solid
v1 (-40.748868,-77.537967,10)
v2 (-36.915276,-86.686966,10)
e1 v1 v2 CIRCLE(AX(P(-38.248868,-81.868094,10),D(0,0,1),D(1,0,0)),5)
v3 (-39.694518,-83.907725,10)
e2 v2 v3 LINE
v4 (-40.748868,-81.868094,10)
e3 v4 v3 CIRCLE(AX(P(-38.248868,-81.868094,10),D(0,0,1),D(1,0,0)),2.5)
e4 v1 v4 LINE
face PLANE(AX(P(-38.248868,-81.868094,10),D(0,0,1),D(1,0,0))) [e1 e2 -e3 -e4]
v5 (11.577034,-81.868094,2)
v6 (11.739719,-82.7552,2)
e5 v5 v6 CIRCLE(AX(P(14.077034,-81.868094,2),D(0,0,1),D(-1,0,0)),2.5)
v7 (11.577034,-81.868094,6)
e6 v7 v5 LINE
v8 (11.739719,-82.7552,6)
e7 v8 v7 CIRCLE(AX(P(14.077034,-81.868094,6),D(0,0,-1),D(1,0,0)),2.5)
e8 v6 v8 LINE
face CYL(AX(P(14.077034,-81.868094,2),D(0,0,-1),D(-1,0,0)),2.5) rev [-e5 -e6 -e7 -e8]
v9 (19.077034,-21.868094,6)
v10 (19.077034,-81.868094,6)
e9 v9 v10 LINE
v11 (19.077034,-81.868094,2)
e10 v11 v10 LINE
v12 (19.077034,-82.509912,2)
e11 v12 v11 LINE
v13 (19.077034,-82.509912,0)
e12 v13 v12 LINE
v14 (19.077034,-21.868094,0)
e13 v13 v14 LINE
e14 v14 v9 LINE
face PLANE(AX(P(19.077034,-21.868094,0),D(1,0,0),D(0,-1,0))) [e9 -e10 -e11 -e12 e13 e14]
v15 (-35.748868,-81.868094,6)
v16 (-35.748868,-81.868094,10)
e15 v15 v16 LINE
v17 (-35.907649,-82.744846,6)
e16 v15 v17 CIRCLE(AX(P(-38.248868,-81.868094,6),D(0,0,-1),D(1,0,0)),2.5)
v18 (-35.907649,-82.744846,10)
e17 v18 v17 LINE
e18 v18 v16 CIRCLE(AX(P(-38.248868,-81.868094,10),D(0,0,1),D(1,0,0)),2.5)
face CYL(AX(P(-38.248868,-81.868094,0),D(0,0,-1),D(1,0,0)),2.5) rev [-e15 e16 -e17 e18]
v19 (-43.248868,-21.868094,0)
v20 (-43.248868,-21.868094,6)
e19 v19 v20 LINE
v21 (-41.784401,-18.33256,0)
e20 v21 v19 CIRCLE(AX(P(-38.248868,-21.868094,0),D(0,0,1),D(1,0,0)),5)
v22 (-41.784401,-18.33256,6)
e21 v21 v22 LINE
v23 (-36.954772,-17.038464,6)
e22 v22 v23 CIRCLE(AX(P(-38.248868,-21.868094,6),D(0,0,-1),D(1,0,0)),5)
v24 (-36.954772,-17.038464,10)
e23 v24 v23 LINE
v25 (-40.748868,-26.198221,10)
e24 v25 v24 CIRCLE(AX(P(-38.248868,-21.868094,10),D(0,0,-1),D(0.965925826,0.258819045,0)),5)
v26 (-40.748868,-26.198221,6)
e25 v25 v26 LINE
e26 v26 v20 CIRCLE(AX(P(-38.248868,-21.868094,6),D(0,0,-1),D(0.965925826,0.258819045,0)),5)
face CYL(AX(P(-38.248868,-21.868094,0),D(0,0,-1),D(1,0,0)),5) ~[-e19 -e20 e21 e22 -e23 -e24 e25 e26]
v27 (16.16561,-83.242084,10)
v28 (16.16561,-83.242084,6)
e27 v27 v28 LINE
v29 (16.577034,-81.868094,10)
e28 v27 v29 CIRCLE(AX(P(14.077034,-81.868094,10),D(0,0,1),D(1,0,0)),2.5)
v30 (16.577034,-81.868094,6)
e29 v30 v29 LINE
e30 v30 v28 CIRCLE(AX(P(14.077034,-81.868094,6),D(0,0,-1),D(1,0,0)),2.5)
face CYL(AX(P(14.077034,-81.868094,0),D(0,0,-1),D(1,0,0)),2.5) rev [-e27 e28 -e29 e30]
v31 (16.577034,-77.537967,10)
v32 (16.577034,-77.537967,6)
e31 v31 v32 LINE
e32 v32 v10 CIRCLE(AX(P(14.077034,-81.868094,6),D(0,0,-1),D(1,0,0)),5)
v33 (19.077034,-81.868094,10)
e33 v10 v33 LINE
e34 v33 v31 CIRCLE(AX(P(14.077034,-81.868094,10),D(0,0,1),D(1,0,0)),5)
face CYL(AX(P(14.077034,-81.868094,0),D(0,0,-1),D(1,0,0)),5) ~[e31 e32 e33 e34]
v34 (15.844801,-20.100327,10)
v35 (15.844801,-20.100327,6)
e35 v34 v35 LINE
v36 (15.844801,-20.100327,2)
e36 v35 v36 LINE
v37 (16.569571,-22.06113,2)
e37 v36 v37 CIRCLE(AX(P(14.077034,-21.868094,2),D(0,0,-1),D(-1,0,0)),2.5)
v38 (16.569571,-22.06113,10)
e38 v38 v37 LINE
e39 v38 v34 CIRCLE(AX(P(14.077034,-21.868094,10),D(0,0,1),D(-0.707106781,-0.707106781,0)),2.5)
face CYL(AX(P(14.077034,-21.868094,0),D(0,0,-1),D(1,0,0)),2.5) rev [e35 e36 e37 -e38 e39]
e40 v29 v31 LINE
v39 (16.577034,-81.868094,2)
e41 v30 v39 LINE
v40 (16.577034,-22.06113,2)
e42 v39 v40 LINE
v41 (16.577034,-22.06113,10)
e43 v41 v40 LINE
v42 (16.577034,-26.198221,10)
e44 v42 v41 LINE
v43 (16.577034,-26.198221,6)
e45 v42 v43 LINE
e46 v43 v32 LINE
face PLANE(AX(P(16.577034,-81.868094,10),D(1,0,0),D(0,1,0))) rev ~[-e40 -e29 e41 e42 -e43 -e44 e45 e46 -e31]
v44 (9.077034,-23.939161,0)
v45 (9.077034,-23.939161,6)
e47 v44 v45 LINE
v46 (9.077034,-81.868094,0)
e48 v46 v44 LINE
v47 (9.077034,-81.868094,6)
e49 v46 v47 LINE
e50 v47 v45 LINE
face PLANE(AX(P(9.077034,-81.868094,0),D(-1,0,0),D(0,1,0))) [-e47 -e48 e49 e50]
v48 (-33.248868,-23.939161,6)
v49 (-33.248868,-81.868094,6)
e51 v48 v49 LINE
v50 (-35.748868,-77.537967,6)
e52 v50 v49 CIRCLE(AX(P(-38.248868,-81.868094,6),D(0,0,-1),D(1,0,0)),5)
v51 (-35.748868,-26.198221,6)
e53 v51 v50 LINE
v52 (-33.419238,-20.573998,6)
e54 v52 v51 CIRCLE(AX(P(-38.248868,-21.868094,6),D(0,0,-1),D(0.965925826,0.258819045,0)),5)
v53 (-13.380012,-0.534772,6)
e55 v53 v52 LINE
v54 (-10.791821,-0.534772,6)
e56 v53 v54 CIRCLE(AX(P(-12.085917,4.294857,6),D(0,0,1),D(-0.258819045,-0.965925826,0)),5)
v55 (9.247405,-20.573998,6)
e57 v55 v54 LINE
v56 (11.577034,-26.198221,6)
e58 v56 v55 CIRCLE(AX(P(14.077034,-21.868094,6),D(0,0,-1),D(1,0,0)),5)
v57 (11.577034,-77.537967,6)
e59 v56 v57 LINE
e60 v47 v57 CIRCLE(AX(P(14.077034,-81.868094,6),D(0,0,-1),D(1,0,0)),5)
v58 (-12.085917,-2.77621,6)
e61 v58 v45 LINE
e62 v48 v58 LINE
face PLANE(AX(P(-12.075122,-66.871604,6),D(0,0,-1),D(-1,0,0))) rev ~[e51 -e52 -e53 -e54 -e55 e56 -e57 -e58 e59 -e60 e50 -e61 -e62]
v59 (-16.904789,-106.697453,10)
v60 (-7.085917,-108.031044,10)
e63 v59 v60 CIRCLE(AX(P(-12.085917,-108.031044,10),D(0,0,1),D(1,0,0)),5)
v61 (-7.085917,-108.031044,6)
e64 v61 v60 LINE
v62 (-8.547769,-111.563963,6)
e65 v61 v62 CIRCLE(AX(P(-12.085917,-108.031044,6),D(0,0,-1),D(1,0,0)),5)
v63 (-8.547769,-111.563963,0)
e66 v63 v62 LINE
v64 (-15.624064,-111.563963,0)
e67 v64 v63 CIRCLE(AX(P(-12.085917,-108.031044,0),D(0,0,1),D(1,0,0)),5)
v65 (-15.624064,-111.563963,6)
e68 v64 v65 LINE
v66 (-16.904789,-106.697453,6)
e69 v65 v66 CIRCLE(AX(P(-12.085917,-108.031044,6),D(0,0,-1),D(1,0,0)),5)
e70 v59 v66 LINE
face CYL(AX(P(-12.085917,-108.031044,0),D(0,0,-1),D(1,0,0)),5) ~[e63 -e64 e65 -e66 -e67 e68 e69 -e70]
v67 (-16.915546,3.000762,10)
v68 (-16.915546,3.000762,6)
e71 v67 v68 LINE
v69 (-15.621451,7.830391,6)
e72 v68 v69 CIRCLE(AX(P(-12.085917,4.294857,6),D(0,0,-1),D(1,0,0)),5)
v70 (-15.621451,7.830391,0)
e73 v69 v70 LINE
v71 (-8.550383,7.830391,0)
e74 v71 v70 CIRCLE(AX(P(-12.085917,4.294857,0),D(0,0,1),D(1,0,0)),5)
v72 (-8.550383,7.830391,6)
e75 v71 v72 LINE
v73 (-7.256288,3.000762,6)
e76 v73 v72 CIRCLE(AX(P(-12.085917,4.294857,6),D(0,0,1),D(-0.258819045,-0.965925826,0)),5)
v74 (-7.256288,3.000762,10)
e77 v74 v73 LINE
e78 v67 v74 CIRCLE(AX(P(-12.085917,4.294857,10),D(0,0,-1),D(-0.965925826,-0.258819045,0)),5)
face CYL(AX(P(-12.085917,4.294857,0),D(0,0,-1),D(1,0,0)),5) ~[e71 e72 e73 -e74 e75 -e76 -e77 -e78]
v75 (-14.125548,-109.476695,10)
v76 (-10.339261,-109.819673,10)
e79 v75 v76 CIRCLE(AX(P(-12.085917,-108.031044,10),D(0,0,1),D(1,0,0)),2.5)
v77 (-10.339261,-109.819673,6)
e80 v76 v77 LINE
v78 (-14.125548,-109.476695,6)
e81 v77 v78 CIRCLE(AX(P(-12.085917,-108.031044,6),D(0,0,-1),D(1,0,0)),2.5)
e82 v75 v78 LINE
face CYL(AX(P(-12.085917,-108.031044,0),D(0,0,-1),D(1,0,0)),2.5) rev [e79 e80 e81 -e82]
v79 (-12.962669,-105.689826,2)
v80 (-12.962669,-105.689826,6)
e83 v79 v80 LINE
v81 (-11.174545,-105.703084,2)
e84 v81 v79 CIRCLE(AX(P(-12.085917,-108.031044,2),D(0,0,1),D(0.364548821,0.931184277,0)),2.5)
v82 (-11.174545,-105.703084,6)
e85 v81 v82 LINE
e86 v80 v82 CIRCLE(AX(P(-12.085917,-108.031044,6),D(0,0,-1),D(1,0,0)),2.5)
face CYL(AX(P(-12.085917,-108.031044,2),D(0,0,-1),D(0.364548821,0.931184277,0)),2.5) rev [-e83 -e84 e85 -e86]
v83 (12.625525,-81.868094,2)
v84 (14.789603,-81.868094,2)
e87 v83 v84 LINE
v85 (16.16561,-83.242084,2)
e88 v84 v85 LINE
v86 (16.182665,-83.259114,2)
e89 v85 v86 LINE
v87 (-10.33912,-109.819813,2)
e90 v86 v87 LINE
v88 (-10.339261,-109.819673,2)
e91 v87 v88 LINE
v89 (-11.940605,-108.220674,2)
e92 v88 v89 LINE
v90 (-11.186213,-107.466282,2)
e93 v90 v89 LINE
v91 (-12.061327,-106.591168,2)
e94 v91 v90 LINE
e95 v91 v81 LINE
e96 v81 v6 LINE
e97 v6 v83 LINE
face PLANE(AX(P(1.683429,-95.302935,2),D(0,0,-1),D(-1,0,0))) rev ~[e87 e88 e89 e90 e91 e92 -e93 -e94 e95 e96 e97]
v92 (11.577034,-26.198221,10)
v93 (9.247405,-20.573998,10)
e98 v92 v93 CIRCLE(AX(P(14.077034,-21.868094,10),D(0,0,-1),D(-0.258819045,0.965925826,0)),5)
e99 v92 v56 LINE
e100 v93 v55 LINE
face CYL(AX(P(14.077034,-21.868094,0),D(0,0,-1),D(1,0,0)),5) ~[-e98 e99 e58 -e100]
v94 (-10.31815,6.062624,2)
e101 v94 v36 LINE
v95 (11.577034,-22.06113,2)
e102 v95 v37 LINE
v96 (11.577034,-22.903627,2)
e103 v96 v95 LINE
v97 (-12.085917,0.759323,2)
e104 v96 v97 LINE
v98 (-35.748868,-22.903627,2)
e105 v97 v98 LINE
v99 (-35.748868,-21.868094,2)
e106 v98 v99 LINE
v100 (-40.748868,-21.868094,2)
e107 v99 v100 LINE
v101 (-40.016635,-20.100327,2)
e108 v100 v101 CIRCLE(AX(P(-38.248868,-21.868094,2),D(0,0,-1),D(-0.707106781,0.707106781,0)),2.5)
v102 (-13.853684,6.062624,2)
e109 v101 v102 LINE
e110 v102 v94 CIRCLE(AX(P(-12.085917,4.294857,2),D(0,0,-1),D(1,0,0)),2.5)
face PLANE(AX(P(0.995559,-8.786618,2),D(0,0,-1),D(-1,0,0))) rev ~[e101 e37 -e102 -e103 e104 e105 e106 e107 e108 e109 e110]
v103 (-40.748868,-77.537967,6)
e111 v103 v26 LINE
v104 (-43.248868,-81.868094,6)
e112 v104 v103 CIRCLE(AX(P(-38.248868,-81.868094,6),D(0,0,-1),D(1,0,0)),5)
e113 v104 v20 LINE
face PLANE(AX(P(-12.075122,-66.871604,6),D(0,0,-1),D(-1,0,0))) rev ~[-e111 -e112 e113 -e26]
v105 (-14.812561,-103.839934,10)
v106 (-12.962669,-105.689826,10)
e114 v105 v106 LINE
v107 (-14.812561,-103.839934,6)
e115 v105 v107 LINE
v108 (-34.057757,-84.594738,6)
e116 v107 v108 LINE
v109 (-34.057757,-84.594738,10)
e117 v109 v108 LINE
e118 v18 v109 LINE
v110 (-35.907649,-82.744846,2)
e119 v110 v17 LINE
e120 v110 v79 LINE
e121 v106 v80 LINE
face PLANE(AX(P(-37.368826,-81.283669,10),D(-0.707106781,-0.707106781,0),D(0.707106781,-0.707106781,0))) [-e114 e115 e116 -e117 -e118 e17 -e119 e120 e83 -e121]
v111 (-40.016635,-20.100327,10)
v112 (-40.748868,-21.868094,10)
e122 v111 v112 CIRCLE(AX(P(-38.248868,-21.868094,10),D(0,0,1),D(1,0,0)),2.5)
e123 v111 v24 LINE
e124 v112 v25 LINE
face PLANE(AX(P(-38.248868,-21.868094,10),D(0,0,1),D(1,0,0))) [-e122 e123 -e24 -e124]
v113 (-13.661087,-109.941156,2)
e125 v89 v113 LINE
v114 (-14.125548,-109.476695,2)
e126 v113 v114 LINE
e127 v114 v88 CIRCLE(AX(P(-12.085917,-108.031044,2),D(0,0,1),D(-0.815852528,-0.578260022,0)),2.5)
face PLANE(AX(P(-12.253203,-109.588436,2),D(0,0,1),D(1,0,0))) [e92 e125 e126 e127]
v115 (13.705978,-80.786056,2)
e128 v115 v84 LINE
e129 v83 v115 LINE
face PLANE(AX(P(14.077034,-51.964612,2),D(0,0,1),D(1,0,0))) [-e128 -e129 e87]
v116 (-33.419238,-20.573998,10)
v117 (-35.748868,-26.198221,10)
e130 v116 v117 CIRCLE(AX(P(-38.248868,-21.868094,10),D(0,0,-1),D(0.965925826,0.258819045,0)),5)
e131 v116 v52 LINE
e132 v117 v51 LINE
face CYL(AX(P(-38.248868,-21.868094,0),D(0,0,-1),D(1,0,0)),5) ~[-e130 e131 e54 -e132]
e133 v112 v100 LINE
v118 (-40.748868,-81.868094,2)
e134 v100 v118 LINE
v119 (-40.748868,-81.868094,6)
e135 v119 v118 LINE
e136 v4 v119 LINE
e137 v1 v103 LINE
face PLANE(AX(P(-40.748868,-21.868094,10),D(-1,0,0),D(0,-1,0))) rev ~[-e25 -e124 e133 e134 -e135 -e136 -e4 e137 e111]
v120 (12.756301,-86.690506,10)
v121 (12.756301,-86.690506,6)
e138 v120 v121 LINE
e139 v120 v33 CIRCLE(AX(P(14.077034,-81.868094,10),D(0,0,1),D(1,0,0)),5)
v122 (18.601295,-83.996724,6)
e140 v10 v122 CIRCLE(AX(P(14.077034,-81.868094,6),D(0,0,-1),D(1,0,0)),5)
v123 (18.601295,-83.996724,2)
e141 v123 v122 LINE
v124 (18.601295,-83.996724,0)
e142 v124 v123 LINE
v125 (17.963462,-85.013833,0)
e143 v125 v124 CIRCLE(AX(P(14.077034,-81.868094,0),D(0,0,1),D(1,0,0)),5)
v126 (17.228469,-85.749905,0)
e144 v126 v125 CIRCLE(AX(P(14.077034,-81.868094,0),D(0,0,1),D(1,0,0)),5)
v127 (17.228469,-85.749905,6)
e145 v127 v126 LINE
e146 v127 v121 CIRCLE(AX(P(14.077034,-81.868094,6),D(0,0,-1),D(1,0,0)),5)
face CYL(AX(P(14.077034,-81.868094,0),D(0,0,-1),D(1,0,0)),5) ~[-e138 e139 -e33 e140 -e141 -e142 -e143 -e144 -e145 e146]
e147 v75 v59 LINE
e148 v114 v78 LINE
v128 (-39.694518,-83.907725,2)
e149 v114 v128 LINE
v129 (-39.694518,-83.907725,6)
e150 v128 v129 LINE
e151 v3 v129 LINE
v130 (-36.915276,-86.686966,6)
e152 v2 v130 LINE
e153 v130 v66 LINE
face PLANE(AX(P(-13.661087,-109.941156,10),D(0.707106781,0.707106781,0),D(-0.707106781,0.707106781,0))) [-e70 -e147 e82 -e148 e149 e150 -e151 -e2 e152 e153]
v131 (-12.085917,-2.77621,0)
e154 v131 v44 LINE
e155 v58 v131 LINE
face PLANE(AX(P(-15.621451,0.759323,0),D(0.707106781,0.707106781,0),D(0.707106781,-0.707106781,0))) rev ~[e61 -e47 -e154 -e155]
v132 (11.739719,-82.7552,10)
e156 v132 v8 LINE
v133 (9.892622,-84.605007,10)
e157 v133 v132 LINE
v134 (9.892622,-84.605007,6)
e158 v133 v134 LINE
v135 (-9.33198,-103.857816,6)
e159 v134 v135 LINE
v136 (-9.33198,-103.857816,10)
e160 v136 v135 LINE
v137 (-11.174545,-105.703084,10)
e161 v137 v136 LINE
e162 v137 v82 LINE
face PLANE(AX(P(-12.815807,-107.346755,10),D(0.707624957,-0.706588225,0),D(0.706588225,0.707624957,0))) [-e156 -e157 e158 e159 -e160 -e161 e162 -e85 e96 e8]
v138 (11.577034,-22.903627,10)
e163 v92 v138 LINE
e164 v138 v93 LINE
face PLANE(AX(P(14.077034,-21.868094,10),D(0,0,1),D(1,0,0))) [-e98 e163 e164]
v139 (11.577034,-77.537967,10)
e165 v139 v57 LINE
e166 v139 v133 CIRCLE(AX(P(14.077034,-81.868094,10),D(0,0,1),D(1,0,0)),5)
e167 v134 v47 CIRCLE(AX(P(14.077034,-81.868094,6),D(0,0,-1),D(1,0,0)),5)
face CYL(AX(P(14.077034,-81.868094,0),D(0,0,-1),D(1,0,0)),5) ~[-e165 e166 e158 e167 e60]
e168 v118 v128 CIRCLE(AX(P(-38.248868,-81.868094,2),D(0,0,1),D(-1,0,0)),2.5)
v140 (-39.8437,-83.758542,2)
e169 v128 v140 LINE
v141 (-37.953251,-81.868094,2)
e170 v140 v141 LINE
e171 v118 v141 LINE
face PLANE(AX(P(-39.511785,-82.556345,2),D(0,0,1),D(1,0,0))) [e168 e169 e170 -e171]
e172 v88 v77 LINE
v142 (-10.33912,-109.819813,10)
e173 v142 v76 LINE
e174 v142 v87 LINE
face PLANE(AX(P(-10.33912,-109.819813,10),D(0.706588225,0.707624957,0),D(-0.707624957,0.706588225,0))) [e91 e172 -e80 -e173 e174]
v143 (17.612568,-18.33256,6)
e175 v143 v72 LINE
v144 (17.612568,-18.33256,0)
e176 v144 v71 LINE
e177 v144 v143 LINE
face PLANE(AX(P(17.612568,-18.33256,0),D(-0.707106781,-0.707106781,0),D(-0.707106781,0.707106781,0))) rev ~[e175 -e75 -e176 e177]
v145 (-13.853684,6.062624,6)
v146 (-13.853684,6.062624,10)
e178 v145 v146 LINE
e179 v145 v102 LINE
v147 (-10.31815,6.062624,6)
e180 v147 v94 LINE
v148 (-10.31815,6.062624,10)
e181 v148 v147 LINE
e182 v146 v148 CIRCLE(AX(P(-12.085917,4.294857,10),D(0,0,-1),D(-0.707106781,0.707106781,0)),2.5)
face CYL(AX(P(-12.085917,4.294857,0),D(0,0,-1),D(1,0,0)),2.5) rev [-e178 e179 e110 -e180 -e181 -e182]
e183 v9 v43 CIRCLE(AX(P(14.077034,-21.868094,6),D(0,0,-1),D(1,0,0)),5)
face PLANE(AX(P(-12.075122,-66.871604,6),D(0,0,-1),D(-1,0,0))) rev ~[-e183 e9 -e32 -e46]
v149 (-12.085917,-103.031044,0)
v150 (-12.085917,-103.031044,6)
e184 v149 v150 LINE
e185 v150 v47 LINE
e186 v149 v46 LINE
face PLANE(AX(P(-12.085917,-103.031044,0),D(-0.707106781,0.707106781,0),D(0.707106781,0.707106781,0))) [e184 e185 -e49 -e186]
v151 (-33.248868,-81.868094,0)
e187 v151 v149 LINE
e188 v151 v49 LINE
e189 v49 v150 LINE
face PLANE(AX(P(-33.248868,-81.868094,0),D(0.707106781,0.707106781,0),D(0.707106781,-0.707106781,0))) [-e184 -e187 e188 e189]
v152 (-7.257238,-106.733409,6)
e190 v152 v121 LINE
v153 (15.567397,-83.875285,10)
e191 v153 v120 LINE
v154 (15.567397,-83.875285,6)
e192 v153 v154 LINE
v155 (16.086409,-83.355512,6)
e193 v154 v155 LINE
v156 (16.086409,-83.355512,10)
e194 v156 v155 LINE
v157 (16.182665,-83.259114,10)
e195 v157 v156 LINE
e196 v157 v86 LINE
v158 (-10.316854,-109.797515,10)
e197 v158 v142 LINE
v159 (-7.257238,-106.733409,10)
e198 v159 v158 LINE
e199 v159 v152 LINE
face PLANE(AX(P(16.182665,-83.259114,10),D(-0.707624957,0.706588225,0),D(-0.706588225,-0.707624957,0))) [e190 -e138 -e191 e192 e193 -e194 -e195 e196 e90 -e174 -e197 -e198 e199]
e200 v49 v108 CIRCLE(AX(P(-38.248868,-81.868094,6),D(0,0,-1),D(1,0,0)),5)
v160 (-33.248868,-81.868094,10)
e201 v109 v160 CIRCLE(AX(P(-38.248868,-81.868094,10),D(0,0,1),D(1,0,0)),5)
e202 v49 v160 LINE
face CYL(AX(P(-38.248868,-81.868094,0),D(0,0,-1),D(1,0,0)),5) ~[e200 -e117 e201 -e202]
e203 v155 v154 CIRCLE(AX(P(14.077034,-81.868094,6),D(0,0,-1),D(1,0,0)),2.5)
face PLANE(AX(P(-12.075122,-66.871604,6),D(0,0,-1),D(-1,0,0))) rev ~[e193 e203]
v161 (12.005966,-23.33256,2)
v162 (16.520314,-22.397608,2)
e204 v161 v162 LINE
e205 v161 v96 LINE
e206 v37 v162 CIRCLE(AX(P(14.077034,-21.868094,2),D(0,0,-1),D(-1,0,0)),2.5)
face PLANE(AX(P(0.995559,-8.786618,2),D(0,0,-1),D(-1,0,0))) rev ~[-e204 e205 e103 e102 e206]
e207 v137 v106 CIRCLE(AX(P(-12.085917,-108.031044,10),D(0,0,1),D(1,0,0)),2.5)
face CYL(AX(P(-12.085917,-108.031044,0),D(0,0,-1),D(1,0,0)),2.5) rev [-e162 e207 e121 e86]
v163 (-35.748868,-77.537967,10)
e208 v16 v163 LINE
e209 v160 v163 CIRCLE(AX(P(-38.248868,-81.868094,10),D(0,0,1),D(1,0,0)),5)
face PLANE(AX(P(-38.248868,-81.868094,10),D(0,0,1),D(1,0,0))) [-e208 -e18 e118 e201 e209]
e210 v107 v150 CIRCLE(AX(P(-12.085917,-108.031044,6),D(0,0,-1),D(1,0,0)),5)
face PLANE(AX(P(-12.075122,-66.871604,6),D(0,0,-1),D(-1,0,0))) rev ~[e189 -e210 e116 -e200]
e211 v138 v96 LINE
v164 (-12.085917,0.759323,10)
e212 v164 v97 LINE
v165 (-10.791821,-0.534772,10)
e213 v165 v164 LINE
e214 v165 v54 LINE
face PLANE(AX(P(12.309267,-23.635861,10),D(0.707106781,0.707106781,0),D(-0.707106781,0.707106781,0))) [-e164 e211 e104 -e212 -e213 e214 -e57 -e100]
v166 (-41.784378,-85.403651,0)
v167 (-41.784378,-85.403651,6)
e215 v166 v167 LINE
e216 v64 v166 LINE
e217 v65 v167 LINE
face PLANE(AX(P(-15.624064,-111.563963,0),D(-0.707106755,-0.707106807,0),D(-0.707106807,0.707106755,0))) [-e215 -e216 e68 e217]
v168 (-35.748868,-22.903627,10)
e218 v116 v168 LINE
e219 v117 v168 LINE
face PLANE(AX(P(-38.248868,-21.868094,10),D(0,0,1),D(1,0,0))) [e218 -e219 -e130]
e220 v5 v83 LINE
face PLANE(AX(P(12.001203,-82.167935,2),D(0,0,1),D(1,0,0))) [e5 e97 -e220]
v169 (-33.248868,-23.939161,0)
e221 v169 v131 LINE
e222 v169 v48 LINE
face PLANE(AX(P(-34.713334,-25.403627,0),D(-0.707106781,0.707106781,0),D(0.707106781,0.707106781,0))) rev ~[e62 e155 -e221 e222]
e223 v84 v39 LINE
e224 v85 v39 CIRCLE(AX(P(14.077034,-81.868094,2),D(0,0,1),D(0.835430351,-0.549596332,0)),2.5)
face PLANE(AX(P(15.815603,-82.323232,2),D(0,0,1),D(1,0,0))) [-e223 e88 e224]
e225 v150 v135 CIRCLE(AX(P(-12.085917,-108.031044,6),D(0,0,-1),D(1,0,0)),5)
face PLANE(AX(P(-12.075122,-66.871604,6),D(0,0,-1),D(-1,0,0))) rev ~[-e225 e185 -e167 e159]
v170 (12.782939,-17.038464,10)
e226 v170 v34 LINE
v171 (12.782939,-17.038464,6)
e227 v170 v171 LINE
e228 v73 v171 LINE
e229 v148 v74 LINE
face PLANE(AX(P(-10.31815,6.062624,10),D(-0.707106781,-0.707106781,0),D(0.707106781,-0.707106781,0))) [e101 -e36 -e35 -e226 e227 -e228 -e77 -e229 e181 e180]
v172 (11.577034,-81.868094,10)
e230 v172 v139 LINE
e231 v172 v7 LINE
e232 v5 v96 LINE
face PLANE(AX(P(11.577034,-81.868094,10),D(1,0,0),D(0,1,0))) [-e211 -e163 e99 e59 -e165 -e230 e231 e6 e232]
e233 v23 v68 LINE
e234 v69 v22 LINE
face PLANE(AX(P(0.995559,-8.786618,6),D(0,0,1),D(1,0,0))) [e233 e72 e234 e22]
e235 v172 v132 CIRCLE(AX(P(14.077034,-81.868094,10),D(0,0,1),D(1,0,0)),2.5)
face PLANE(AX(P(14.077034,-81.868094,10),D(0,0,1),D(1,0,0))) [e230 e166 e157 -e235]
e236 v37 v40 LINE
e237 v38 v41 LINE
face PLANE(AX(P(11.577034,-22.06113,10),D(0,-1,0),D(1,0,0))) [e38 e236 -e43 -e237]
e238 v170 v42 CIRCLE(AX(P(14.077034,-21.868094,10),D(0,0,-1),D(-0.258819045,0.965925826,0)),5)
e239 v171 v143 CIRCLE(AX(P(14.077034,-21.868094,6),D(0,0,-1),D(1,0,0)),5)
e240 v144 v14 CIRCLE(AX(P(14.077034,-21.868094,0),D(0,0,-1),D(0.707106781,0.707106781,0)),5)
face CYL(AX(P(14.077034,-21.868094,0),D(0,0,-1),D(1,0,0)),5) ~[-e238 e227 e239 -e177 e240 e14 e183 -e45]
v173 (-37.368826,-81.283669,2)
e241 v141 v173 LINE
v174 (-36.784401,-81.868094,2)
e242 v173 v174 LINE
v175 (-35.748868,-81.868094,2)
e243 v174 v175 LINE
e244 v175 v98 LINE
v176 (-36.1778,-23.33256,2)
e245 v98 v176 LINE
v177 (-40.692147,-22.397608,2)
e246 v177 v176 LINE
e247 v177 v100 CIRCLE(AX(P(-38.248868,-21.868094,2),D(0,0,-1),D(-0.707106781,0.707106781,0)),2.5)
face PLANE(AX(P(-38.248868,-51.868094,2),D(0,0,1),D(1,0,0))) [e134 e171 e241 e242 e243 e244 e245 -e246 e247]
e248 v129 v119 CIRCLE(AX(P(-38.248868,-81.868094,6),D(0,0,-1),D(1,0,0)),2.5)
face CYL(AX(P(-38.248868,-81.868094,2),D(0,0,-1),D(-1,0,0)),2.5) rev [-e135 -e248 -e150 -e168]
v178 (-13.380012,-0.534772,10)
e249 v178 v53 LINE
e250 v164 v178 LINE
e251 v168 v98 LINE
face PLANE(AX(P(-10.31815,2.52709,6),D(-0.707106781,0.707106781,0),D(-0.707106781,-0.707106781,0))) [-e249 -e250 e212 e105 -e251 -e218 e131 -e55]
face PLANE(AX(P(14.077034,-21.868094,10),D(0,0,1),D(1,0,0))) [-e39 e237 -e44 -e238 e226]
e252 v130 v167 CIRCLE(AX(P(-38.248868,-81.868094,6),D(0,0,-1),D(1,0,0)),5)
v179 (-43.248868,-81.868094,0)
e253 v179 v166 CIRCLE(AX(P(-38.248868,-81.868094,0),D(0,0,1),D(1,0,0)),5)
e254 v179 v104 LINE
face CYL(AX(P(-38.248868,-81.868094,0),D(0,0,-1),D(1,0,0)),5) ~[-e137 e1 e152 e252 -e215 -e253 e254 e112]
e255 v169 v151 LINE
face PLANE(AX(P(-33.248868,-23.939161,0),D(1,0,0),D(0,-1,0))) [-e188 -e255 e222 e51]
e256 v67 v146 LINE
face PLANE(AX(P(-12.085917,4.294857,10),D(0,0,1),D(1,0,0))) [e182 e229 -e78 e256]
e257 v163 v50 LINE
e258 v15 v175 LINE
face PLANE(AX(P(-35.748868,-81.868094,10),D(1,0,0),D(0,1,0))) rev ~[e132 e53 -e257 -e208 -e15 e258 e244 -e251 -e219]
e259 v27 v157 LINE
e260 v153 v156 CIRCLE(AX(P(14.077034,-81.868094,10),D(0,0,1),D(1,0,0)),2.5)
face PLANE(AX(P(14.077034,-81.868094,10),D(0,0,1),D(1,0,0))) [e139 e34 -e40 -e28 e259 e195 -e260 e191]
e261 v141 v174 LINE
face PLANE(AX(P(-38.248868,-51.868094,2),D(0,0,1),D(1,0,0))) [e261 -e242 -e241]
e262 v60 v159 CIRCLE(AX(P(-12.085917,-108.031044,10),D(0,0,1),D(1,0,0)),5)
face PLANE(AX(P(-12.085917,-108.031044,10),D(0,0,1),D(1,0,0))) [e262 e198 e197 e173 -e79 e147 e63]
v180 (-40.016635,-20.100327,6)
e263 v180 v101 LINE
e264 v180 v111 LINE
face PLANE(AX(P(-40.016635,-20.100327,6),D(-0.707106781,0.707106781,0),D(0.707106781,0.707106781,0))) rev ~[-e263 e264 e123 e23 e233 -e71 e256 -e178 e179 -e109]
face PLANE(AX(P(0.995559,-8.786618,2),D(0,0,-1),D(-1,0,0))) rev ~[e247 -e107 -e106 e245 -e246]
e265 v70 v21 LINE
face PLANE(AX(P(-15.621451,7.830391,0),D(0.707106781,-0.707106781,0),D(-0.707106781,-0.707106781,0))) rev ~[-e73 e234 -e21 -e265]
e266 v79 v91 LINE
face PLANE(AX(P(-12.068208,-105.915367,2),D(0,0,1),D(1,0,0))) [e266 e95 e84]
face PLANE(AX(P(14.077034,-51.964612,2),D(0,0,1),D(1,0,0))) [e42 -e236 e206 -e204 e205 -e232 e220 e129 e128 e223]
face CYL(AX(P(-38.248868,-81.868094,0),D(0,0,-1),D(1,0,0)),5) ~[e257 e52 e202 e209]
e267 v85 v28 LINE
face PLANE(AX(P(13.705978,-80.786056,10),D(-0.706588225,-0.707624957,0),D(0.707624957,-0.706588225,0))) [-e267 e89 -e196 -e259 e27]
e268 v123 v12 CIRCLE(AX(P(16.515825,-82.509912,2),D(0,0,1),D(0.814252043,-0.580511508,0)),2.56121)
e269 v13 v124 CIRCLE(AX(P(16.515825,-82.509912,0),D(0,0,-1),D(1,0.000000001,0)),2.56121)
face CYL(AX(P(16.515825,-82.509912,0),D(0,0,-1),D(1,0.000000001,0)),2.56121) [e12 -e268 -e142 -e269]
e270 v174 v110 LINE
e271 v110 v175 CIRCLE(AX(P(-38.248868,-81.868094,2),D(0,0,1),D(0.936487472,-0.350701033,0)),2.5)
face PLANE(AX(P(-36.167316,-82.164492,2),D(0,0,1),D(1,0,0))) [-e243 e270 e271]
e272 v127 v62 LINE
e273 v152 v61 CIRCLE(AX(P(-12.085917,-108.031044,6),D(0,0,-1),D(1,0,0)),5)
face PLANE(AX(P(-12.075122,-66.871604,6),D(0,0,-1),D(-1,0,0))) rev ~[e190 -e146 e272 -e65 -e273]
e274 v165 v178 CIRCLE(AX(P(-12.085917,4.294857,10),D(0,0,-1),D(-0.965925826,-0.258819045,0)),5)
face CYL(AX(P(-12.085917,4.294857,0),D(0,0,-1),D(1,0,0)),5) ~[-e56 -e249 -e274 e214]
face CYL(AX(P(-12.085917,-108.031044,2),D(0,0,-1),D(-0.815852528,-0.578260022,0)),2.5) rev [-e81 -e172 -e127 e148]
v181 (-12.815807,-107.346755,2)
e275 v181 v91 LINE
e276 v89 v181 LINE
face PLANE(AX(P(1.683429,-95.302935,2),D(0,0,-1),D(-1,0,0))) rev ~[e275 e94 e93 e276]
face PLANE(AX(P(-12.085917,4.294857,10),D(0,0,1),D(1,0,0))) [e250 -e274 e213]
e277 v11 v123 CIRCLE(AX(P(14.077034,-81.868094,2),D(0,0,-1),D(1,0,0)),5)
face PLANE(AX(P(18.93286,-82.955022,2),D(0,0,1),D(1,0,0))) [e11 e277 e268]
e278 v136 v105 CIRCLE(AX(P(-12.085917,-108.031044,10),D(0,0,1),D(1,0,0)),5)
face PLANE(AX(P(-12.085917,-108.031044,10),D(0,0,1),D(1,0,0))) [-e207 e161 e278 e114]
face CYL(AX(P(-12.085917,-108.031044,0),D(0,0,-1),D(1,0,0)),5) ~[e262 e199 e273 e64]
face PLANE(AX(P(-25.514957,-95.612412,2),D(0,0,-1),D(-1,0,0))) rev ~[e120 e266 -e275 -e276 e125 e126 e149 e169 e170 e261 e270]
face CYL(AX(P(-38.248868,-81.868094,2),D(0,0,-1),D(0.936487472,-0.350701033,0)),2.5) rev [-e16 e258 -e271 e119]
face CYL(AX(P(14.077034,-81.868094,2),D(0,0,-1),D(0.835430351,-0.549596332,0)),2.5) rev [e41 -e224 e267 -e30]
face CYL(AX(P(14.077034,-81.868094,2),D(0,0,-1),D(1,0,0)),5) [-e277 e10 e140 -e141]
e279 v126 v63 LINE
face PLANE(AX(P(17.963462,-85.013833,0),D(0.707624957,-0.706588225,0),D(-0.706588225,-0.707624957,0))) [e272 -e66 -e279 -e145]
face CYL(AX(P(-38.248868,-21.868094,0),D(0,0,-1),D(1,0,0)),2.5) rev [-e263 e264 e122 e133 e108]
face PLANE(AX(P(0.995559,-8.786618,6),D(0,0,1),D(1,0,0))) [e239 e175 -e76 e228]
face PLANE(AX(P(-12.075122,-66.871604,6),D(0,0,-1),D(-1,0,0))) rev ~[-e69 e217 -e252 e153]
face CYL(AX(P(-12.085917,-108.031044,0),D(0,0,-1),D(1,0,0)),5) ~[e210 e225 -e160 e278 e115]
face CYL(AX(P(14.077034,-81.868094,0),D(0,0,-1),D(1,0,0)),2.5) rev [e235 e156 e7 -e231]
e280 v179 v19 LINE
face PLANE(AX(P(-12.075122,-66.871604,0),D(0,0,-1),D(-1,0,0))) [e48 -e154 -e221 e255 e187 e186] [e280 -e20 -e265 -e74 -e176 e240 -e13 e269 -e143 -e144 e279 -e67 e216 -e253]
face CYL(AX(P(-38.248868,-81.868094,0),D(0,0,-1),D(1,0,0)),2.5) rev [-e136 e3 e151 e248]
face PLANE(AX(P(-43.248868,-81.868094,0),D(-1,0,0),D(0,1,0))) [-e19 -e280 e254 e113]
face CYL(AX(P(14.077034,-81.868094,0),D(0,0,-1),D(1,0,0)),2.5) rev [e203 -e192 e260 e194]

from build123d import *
from build123d.topology import SkipClean

# Parameters (mm, degrees)
SKETCH_1_R                      = 5
SKETCH_1_R_2                    = 2.5
EXTRUDE_1_DEPTH                 = 10
EXTRUDE_1_2_DEPTH               = 10
EXTRUDE_1_3_DEPTH               = 10
EXTRUDE_1_4_DEPTH               = 10
EXTRUDE_1_5_DEPTH               = 10
EXTRUDE_1_6_DEPTH               = 10
EXTRUDE_2_DEPTH                 = 6
EXTRUDE_4_DEPTH                 = 6
CUT_EXTRUDE_1_DEPTH             = 4
SKETCH_5_R                      = 3.75
SKETCH_5_R_2                    = 2.5
EXTRUDE_3_DEPTH                 = 2
CUT_EXTRUDE_2_DEPTH             = 4
CUT_EXTRUDE_3_DEPTH             = 8
SKETCH_11_R                     = 2.5
EXTRUDE_9_DEPTH                 = 2
AUFSATZ_LINEAR_AUSTRAGEN1_DEPTH = 6
SKIZZE4_W                       = 5
SKIZZE4_H                       = 59.806963929
SCHNITT_LINEAR_AUSTRAGEN1_DEPTH = 8
SCHNITT_LINEAR_AUSTRAGEN2_DEPTH = 8
SCHNITT_LINEAR_AUSTRAGEN3_DEPTH = 8
SCHNITT_LINEAR_AUSTRAGEN6_DEPTH = 8
SCHNITT_LINEAR_START            = -4
SCHNITT_LINEAR_AUSTRAGEN7_DEPTH = 4


with BuildPart() as part:
    # Эскиз1 → Бобышка-Вытянуть1 (new body)
    with BuildSketch(Plane.XY):
        with Locations((-12.085916667, 4.294857344)):
            Circle(SKETCH_1_R)
        with Locations((-12.085916667, 4.294857344)):
            Circle(SKETCH_1_R_2, mode=Mode.SUBTRACT)
    extrude(amount=EXTRUDE_1_DEPTH)



with BuildPart() as body_2:
    # Эскиз1 → Extrude 1 2 (new body)
    with BuildSketch(Plane.XY):
        with Locations((-38.24886757, -21.86809356)):
            Circle(SKETCH_1_R)
        with Locations((-38.24886757, -21.86809356)):
            Circle(SKETCH_1_R_2, mode=Mode.SUBTRACT)
    extrude(amount=EXTRUDE_1_2_DEPTH)


with BuildPart() as body_3:
    # Эскиз1 → Extrude 1 3 (new body)
    with BuildSketch(Plane.XY):
        with Locations((14.077034237, -21.86809356)):
            Circle(SKETCH_1_R)
        with Locations((14.077034237, -21.86809356)):
            Circle(SKETCH_1_R_2, mode=Mode.SUBTRACT)
    extrude(amount=EXTRUDE_1_3_DEPTH)


with BuildPart() as body_4:
    # Эскиз1 → Extrude 1 4 (new body)
    with BuildSketch(Plane.XY):
        with Locations((-38.24886757, -81.86809356)):
            Circle(SKETCH_1_R)
        with Locations((-38.24886757, -81.86809356)):
            Circle(SKETCH_1_R_2, mode=Mode.SUBTRACT)
    extrude(amount=EXTRUDE_1_4_DEPTH)


with BuildPart() as body_5:
    # Эскиз1 → Extrude 1 5 (new body)
    with BuildSketch(Plane.XY):
        with Locations((14.077034237, -81.86809356)):
            Circle(SKETCH_1_R)
        with Locations((14.077034237, -81.86809356)):
            Circle(SKETCH_1_R_2, mode=Mode.SUBTRACT)
    extrude(amount=EXTRUDE_1_5_DEPTH)


with BuildPart() as body_6:
    # Эскиз1 → Extrude 1 6 (new body)
    with BuildSketch(Plane.XY):
        with Locations((-12.085916667, -108.031044464)):
            Circle(SKETCH_1_R)
        with Locations((-12.085916667, -108.031044464)):
            Circle(SKETCH_1_R_2, mode=Mode.SUBTRACT)
    extrude(amount=EXTRUDE_1_6_DEPTH)


with BuildPart() as part_1:
    add(part.part)

    add(body_2.part)  # Бобышка-Вытянуть2 merges body 2
    # Эскиз3 → Бобышка-Вытянуть2 (add)
    with BuildSketch(Plane(origin=(0, 0, 0), x_dir=(-1, 0, 0), z_dir=(0, 0, -1))):
        Polygon((12.085916667, 4.294857344), (15.621450572, 7.83039125), (41.784401476, -18.332559654), (34.713333665, -25.403627466), (8.550382761, 0.759323438), align=None)
    extrude(amount=-EXTRUDE_2_DEPTH)


    add(body_3.part)  # Бобышка-Вытянуть4 merges body 3
    # Эскиз9 → Бобышка-Вытянуть4 (add)
    with BuildSketch(Plane(origin=(0, 0, 0), x_dir=(-1, 0, 0), z_dir=(0, 0, -1))):
        Polygon((-14.077034237, -21.86809356), (-17.612568143, -18.332559654), (8.550382761, 7.83039125), (15.621450572, 0.759323438), (-10.541500331, -25.403627466), align=None)
    extrude(amount=-EXTRUDE_4_DEPTH)

    # Эскиз4 → Вырез-Вытянуть1 (cut)
    with BuildSketch(Plane.XY.offset(6)):
        Polygon((-13.85368362, 6.062624297), (-10.318149714, 2.527090391), (-36.481100617, -23.635860513), (-40.016634523, -20.100326607), align=None)
    extrude(amount=-CUT_EXTRUDE_1_DEPTH, mode=Mode.SUBTRACT)

    # Эскиз5 → Бобышка-Вытянуть3 (add)
    with BuildSketch(Plane(origin=(0, 0, 0), x_dir=(-1, 0, 0), z_dir=(0, 0, -1))):
        with Locations((12.969800143, 5.178740821)):
            Circle(SKETCH_5_R)
        with Locations((38.24886757, -21.86809356)):
            Circle(SKETCH_5_R_2)
    extrude(amount=-EXTRUDE_3_DEPTH)

    # Эскиз4<2> → Вырез-Вытянуть2 (cut)
    with BuildSketch(Plane.XY.offset(6)):
        Polygon((-13.85368362, 6.062624297), (-10.318149714, 2.527090391), (-36.481100617, -23.635860513), (-40.016634523, -20.100326607), align=None)
    extrude(amount=CUT_EXTRUDE_2_DEPTH, mode=Mode.SUBTRACT)

    # Эскиз10 → Вырез-Вытянуть3 (cut)
    with BuildSketch(Plane.XY.offset(10)):
        Polygon((14.077034237, -21.86809356), (12.309267284, -23.635860513), (-13.85368362, 2.527090391), (-12.085916667, 4.294857344), (-10.318149714, 6.062624297), (15.84480119, -20.100326607), align=None)
    extrude(amount=-CUT_EXTRUDE_3_DEPTH, mode=Mode.SUBTRACT)

    # Эскиз11 → Бобышка-Вытянуть9 (add)
    with BuildSketch(Plane(origin=(0, 0, 0), x_dir=(-1, 0, 0), z_dir=(0, 0, -1))):
        with Locations((-14.077034237, -21.86809356)):
            Circle(SKETCH_11_R)
    extrude(amount=-EXTRUDE_9_DEPTH)


    add(body_4.part)  # Aufsatz-Linear austragen1 merges body 4

    add(body_5.part)  # Aufsatz-Linear austragen1 merges body 5

    add(body_6.part)  # Aufsatz-Linear austragen1 merges body 6
    # Skizze2 → Aufsatz-Linear austragen1 (add)
    with BuildSketch(Plane(origin=(0, 0, 0), x_dir=(-1, 0, 0), z_dir=(0, 0, -1))):
        with BuildLine():
            Line((-19.077034237, -21.86809356), (-19.077034237, -82.509912102))
            ThreePointArc((-19.077034237, -82.509912102), (-18.955201687, -83.290446679), (-18.601294786, -83.996723751))
            Line((-18.601294786, -83.996723751), (-17.963462032, -85.013833377))
            Line((-17.963462032, -85.013833377), (8.547769183, -111.563962859))
            Line((8.547769183, -111.563962859), (15.62406415, -111.563962859))
            Line((15.62406415, -111.563962859), (41.784377989, -85.403650953))
            Line((41.784377989, -85.403650953), (43.24886757, -81.86809356))
            Line((43.24886757, -81.86809356), (43.24886757, -21.86809356))
            Line((43.24886757, -21.86809356), (33.24886757, -23.939161372))
            Line((33.24886757, -23.939161372), (33.24886757, -81.86809356))
            Line((33.24886757, -81.86809356), (12.085916667, -103.031044464))
            Line((12.085916667, -103.031044464), (-9.077034237, -81.86809356))
            Line((-9.077034237, -81.86809356), (-9.077034237, -23.939161372))
            Line((-9.077034237, -23.939161372), (-19.077034237, -21.86809356))
        make_face()
    extrude(amount=-AUFSATZ_LINEAR_AUSTRAGEN1_DEPTH)

    # Skizze4 → Schnitt-Linear austragen1 (cut)
    with SkipClean():  # the faces are left unmerged after this step: merging them gives an invalid solid
        with BuildSketch(Plane.XY.offset(10)):
            with Locations((14.077034237, -51.964611596)):
                Rectangle(SKIZZE4_W, SKIZZE4_H)
        extrude(amount=-SCHNITT_LINEAR_AUSTRAGEN1_DEPTH, mode=Mode.SUBTRACT)

    # Skizze5 → Schnitt-Linear austragen2 (cut)
    with SkipClean():  # the faces are left unmerged after this step: merging them gives an invalid solid
        with BuildSketch(Plane.XY.offset(10)):
            Polygon((-38.24886757, -81.86809356), (-35.74886757, -81.86809356), (-35.74886757, -21.86809356), (-40.74886757, -21.86809356), (-40.74886757, -81.86809356), align=None)
        extrude(amount=-SCHNITT_LINEAR_AUSTRAGEN2_DEPTH, mode=Mode.SUBTRACT)

    # Skizze6 → Schnitt-Linear austragen3 (cut)
    with SkipClean():  # the faces are left unmerged after this step: merging them gives an invalid solid
        with BuildSketch(Plane.XY.offset(10)):
            Polygon((-12.815807368, -107.346754652), (13.705977842, -80.78605569), (16.182665193, -83.259114477), (-10.339120017, -109.819813439), align=None)
        extrude(amount=-SCHNITT_LINEAR_AUSTRAGEN3_DEPTH, mode=Mode.SUBTRACT)

    # Skizze8 → Schnitt-Linear austragen6 (cut)
    with SkipClean():  # the faces are left unmerged after this step: merging them gives an invalid solid
        with BuildSketch(Plane.XY.offset(10)):
            Polygon((-37.36882645, -81.283668587), (-11.186213036, -107.466282), (-13.66108677, -109.941155734), (-39.843700184, -83.758542321), align=None)
        extrude(amount=-SCHNITT_LINEAR_AUSTRAGEN6_DEPTH, mode=Mode.SUBTRACT)

    # Skizze10 → Schnitt-Linear austragen7 (cut)
    with SkipClean():  # the faces are left unmerged after this step: merging them gives an invalid solid
        with BuildSketch(Plane.XY.offset(6).offset(SCHNITT_LINEAR_START)):
            with BuildLine():
                Line((-11.940605405, -108.220674369), (-13.66108677, -109.941155734))
                Line((-13.66108677, -109.941155734), (-14.125547986, -109.476694519))
                ThreePointArc((-14.125547986, -109.476694519), (-12.311454238, -110.52085024), (-10.339260555, -109.819673108))
                Line((-10.339260555, -109.819673108), (-11.940605405, -108.220674369))
            make_face()
            with BuildLine():
                Line((-12.962669252, -105.689825784), (-12.061327377, -106.591167659))
                Line((-12.061327377, -106.591167659), (-11.174544611, -105.703083773))
                ThreePointArc((-11.174544611, -105.703083773), (-12.067381012, -105.531113179), (-12.962669252, -105.689825784))
            make_face()
            with BuildLine():
                Line((-39.843700184, -83.758542321), (-37.953251423, -81.86809356))
                Line((-37.953251423, -81.86809356), (-40.74886757, -81.86809356))
                ThreePointArc((-40.74886757, -81.86809356), (-40.46969232, -83.01610812), (-39.694517625, -83.907724879))
                Line((-39.694517625, -83.907724879), (-39.843700184, -83.758542321))
            make_face()
            with BuildLine():
                Line((-36.784401476, -81.86809356), (-35.907648891, -82.744846145))
                ThreePointArc((-35.907648891, -82.744846145), (-35.78888315, -82.313600744), (-35.74886757, -81.86809356))
                Line((-35.74886757, -81.86809356), (-36.784401476, -81.86809356))
            make_face()
            with BuildLine():
                Line((14.789603319, -81.86809356), (16.165610117, -83.242084387))
                ThreePointArc((16.165610117, -83.242084387), (16.471970531, -82.585226846), (16.577034237, -81.86809356))
                Line((16.577034237, -81.86809356), (14.789603319, -81.86809356))
            make_face()
            with BuildLine():
                Line((11.739718918, -82.755199583), (12.625525252, -81.86809356))
                Line((12.625525252, -81.86809356), (11.577034237, -81.86809356))
                ThreePointArc((11.577034237, -81.86809356), (11.61804173, -82.319043502), (11.739718918, -82.755199583))
            make_face()
            with BuildLine():
                Line((19.077034237, -82.509912102), (19.077034237, -81.86809356))
                ThreePointArc((19.077034237, -81.86809356), (18.956650141, -82.958666175), (18.601294786, -83.996723751))
                ThreePointArc((18.601294786, -83.996723751), (18.955201687, -83.290446679), (19.077034237, -82.509912102))
            make_face()
        extrude(amount=SCHNITT_LINEAR_AUSTRAGEN7_DEPTH, mode=Mode.SUBTRACT)


solid = part_1.part
